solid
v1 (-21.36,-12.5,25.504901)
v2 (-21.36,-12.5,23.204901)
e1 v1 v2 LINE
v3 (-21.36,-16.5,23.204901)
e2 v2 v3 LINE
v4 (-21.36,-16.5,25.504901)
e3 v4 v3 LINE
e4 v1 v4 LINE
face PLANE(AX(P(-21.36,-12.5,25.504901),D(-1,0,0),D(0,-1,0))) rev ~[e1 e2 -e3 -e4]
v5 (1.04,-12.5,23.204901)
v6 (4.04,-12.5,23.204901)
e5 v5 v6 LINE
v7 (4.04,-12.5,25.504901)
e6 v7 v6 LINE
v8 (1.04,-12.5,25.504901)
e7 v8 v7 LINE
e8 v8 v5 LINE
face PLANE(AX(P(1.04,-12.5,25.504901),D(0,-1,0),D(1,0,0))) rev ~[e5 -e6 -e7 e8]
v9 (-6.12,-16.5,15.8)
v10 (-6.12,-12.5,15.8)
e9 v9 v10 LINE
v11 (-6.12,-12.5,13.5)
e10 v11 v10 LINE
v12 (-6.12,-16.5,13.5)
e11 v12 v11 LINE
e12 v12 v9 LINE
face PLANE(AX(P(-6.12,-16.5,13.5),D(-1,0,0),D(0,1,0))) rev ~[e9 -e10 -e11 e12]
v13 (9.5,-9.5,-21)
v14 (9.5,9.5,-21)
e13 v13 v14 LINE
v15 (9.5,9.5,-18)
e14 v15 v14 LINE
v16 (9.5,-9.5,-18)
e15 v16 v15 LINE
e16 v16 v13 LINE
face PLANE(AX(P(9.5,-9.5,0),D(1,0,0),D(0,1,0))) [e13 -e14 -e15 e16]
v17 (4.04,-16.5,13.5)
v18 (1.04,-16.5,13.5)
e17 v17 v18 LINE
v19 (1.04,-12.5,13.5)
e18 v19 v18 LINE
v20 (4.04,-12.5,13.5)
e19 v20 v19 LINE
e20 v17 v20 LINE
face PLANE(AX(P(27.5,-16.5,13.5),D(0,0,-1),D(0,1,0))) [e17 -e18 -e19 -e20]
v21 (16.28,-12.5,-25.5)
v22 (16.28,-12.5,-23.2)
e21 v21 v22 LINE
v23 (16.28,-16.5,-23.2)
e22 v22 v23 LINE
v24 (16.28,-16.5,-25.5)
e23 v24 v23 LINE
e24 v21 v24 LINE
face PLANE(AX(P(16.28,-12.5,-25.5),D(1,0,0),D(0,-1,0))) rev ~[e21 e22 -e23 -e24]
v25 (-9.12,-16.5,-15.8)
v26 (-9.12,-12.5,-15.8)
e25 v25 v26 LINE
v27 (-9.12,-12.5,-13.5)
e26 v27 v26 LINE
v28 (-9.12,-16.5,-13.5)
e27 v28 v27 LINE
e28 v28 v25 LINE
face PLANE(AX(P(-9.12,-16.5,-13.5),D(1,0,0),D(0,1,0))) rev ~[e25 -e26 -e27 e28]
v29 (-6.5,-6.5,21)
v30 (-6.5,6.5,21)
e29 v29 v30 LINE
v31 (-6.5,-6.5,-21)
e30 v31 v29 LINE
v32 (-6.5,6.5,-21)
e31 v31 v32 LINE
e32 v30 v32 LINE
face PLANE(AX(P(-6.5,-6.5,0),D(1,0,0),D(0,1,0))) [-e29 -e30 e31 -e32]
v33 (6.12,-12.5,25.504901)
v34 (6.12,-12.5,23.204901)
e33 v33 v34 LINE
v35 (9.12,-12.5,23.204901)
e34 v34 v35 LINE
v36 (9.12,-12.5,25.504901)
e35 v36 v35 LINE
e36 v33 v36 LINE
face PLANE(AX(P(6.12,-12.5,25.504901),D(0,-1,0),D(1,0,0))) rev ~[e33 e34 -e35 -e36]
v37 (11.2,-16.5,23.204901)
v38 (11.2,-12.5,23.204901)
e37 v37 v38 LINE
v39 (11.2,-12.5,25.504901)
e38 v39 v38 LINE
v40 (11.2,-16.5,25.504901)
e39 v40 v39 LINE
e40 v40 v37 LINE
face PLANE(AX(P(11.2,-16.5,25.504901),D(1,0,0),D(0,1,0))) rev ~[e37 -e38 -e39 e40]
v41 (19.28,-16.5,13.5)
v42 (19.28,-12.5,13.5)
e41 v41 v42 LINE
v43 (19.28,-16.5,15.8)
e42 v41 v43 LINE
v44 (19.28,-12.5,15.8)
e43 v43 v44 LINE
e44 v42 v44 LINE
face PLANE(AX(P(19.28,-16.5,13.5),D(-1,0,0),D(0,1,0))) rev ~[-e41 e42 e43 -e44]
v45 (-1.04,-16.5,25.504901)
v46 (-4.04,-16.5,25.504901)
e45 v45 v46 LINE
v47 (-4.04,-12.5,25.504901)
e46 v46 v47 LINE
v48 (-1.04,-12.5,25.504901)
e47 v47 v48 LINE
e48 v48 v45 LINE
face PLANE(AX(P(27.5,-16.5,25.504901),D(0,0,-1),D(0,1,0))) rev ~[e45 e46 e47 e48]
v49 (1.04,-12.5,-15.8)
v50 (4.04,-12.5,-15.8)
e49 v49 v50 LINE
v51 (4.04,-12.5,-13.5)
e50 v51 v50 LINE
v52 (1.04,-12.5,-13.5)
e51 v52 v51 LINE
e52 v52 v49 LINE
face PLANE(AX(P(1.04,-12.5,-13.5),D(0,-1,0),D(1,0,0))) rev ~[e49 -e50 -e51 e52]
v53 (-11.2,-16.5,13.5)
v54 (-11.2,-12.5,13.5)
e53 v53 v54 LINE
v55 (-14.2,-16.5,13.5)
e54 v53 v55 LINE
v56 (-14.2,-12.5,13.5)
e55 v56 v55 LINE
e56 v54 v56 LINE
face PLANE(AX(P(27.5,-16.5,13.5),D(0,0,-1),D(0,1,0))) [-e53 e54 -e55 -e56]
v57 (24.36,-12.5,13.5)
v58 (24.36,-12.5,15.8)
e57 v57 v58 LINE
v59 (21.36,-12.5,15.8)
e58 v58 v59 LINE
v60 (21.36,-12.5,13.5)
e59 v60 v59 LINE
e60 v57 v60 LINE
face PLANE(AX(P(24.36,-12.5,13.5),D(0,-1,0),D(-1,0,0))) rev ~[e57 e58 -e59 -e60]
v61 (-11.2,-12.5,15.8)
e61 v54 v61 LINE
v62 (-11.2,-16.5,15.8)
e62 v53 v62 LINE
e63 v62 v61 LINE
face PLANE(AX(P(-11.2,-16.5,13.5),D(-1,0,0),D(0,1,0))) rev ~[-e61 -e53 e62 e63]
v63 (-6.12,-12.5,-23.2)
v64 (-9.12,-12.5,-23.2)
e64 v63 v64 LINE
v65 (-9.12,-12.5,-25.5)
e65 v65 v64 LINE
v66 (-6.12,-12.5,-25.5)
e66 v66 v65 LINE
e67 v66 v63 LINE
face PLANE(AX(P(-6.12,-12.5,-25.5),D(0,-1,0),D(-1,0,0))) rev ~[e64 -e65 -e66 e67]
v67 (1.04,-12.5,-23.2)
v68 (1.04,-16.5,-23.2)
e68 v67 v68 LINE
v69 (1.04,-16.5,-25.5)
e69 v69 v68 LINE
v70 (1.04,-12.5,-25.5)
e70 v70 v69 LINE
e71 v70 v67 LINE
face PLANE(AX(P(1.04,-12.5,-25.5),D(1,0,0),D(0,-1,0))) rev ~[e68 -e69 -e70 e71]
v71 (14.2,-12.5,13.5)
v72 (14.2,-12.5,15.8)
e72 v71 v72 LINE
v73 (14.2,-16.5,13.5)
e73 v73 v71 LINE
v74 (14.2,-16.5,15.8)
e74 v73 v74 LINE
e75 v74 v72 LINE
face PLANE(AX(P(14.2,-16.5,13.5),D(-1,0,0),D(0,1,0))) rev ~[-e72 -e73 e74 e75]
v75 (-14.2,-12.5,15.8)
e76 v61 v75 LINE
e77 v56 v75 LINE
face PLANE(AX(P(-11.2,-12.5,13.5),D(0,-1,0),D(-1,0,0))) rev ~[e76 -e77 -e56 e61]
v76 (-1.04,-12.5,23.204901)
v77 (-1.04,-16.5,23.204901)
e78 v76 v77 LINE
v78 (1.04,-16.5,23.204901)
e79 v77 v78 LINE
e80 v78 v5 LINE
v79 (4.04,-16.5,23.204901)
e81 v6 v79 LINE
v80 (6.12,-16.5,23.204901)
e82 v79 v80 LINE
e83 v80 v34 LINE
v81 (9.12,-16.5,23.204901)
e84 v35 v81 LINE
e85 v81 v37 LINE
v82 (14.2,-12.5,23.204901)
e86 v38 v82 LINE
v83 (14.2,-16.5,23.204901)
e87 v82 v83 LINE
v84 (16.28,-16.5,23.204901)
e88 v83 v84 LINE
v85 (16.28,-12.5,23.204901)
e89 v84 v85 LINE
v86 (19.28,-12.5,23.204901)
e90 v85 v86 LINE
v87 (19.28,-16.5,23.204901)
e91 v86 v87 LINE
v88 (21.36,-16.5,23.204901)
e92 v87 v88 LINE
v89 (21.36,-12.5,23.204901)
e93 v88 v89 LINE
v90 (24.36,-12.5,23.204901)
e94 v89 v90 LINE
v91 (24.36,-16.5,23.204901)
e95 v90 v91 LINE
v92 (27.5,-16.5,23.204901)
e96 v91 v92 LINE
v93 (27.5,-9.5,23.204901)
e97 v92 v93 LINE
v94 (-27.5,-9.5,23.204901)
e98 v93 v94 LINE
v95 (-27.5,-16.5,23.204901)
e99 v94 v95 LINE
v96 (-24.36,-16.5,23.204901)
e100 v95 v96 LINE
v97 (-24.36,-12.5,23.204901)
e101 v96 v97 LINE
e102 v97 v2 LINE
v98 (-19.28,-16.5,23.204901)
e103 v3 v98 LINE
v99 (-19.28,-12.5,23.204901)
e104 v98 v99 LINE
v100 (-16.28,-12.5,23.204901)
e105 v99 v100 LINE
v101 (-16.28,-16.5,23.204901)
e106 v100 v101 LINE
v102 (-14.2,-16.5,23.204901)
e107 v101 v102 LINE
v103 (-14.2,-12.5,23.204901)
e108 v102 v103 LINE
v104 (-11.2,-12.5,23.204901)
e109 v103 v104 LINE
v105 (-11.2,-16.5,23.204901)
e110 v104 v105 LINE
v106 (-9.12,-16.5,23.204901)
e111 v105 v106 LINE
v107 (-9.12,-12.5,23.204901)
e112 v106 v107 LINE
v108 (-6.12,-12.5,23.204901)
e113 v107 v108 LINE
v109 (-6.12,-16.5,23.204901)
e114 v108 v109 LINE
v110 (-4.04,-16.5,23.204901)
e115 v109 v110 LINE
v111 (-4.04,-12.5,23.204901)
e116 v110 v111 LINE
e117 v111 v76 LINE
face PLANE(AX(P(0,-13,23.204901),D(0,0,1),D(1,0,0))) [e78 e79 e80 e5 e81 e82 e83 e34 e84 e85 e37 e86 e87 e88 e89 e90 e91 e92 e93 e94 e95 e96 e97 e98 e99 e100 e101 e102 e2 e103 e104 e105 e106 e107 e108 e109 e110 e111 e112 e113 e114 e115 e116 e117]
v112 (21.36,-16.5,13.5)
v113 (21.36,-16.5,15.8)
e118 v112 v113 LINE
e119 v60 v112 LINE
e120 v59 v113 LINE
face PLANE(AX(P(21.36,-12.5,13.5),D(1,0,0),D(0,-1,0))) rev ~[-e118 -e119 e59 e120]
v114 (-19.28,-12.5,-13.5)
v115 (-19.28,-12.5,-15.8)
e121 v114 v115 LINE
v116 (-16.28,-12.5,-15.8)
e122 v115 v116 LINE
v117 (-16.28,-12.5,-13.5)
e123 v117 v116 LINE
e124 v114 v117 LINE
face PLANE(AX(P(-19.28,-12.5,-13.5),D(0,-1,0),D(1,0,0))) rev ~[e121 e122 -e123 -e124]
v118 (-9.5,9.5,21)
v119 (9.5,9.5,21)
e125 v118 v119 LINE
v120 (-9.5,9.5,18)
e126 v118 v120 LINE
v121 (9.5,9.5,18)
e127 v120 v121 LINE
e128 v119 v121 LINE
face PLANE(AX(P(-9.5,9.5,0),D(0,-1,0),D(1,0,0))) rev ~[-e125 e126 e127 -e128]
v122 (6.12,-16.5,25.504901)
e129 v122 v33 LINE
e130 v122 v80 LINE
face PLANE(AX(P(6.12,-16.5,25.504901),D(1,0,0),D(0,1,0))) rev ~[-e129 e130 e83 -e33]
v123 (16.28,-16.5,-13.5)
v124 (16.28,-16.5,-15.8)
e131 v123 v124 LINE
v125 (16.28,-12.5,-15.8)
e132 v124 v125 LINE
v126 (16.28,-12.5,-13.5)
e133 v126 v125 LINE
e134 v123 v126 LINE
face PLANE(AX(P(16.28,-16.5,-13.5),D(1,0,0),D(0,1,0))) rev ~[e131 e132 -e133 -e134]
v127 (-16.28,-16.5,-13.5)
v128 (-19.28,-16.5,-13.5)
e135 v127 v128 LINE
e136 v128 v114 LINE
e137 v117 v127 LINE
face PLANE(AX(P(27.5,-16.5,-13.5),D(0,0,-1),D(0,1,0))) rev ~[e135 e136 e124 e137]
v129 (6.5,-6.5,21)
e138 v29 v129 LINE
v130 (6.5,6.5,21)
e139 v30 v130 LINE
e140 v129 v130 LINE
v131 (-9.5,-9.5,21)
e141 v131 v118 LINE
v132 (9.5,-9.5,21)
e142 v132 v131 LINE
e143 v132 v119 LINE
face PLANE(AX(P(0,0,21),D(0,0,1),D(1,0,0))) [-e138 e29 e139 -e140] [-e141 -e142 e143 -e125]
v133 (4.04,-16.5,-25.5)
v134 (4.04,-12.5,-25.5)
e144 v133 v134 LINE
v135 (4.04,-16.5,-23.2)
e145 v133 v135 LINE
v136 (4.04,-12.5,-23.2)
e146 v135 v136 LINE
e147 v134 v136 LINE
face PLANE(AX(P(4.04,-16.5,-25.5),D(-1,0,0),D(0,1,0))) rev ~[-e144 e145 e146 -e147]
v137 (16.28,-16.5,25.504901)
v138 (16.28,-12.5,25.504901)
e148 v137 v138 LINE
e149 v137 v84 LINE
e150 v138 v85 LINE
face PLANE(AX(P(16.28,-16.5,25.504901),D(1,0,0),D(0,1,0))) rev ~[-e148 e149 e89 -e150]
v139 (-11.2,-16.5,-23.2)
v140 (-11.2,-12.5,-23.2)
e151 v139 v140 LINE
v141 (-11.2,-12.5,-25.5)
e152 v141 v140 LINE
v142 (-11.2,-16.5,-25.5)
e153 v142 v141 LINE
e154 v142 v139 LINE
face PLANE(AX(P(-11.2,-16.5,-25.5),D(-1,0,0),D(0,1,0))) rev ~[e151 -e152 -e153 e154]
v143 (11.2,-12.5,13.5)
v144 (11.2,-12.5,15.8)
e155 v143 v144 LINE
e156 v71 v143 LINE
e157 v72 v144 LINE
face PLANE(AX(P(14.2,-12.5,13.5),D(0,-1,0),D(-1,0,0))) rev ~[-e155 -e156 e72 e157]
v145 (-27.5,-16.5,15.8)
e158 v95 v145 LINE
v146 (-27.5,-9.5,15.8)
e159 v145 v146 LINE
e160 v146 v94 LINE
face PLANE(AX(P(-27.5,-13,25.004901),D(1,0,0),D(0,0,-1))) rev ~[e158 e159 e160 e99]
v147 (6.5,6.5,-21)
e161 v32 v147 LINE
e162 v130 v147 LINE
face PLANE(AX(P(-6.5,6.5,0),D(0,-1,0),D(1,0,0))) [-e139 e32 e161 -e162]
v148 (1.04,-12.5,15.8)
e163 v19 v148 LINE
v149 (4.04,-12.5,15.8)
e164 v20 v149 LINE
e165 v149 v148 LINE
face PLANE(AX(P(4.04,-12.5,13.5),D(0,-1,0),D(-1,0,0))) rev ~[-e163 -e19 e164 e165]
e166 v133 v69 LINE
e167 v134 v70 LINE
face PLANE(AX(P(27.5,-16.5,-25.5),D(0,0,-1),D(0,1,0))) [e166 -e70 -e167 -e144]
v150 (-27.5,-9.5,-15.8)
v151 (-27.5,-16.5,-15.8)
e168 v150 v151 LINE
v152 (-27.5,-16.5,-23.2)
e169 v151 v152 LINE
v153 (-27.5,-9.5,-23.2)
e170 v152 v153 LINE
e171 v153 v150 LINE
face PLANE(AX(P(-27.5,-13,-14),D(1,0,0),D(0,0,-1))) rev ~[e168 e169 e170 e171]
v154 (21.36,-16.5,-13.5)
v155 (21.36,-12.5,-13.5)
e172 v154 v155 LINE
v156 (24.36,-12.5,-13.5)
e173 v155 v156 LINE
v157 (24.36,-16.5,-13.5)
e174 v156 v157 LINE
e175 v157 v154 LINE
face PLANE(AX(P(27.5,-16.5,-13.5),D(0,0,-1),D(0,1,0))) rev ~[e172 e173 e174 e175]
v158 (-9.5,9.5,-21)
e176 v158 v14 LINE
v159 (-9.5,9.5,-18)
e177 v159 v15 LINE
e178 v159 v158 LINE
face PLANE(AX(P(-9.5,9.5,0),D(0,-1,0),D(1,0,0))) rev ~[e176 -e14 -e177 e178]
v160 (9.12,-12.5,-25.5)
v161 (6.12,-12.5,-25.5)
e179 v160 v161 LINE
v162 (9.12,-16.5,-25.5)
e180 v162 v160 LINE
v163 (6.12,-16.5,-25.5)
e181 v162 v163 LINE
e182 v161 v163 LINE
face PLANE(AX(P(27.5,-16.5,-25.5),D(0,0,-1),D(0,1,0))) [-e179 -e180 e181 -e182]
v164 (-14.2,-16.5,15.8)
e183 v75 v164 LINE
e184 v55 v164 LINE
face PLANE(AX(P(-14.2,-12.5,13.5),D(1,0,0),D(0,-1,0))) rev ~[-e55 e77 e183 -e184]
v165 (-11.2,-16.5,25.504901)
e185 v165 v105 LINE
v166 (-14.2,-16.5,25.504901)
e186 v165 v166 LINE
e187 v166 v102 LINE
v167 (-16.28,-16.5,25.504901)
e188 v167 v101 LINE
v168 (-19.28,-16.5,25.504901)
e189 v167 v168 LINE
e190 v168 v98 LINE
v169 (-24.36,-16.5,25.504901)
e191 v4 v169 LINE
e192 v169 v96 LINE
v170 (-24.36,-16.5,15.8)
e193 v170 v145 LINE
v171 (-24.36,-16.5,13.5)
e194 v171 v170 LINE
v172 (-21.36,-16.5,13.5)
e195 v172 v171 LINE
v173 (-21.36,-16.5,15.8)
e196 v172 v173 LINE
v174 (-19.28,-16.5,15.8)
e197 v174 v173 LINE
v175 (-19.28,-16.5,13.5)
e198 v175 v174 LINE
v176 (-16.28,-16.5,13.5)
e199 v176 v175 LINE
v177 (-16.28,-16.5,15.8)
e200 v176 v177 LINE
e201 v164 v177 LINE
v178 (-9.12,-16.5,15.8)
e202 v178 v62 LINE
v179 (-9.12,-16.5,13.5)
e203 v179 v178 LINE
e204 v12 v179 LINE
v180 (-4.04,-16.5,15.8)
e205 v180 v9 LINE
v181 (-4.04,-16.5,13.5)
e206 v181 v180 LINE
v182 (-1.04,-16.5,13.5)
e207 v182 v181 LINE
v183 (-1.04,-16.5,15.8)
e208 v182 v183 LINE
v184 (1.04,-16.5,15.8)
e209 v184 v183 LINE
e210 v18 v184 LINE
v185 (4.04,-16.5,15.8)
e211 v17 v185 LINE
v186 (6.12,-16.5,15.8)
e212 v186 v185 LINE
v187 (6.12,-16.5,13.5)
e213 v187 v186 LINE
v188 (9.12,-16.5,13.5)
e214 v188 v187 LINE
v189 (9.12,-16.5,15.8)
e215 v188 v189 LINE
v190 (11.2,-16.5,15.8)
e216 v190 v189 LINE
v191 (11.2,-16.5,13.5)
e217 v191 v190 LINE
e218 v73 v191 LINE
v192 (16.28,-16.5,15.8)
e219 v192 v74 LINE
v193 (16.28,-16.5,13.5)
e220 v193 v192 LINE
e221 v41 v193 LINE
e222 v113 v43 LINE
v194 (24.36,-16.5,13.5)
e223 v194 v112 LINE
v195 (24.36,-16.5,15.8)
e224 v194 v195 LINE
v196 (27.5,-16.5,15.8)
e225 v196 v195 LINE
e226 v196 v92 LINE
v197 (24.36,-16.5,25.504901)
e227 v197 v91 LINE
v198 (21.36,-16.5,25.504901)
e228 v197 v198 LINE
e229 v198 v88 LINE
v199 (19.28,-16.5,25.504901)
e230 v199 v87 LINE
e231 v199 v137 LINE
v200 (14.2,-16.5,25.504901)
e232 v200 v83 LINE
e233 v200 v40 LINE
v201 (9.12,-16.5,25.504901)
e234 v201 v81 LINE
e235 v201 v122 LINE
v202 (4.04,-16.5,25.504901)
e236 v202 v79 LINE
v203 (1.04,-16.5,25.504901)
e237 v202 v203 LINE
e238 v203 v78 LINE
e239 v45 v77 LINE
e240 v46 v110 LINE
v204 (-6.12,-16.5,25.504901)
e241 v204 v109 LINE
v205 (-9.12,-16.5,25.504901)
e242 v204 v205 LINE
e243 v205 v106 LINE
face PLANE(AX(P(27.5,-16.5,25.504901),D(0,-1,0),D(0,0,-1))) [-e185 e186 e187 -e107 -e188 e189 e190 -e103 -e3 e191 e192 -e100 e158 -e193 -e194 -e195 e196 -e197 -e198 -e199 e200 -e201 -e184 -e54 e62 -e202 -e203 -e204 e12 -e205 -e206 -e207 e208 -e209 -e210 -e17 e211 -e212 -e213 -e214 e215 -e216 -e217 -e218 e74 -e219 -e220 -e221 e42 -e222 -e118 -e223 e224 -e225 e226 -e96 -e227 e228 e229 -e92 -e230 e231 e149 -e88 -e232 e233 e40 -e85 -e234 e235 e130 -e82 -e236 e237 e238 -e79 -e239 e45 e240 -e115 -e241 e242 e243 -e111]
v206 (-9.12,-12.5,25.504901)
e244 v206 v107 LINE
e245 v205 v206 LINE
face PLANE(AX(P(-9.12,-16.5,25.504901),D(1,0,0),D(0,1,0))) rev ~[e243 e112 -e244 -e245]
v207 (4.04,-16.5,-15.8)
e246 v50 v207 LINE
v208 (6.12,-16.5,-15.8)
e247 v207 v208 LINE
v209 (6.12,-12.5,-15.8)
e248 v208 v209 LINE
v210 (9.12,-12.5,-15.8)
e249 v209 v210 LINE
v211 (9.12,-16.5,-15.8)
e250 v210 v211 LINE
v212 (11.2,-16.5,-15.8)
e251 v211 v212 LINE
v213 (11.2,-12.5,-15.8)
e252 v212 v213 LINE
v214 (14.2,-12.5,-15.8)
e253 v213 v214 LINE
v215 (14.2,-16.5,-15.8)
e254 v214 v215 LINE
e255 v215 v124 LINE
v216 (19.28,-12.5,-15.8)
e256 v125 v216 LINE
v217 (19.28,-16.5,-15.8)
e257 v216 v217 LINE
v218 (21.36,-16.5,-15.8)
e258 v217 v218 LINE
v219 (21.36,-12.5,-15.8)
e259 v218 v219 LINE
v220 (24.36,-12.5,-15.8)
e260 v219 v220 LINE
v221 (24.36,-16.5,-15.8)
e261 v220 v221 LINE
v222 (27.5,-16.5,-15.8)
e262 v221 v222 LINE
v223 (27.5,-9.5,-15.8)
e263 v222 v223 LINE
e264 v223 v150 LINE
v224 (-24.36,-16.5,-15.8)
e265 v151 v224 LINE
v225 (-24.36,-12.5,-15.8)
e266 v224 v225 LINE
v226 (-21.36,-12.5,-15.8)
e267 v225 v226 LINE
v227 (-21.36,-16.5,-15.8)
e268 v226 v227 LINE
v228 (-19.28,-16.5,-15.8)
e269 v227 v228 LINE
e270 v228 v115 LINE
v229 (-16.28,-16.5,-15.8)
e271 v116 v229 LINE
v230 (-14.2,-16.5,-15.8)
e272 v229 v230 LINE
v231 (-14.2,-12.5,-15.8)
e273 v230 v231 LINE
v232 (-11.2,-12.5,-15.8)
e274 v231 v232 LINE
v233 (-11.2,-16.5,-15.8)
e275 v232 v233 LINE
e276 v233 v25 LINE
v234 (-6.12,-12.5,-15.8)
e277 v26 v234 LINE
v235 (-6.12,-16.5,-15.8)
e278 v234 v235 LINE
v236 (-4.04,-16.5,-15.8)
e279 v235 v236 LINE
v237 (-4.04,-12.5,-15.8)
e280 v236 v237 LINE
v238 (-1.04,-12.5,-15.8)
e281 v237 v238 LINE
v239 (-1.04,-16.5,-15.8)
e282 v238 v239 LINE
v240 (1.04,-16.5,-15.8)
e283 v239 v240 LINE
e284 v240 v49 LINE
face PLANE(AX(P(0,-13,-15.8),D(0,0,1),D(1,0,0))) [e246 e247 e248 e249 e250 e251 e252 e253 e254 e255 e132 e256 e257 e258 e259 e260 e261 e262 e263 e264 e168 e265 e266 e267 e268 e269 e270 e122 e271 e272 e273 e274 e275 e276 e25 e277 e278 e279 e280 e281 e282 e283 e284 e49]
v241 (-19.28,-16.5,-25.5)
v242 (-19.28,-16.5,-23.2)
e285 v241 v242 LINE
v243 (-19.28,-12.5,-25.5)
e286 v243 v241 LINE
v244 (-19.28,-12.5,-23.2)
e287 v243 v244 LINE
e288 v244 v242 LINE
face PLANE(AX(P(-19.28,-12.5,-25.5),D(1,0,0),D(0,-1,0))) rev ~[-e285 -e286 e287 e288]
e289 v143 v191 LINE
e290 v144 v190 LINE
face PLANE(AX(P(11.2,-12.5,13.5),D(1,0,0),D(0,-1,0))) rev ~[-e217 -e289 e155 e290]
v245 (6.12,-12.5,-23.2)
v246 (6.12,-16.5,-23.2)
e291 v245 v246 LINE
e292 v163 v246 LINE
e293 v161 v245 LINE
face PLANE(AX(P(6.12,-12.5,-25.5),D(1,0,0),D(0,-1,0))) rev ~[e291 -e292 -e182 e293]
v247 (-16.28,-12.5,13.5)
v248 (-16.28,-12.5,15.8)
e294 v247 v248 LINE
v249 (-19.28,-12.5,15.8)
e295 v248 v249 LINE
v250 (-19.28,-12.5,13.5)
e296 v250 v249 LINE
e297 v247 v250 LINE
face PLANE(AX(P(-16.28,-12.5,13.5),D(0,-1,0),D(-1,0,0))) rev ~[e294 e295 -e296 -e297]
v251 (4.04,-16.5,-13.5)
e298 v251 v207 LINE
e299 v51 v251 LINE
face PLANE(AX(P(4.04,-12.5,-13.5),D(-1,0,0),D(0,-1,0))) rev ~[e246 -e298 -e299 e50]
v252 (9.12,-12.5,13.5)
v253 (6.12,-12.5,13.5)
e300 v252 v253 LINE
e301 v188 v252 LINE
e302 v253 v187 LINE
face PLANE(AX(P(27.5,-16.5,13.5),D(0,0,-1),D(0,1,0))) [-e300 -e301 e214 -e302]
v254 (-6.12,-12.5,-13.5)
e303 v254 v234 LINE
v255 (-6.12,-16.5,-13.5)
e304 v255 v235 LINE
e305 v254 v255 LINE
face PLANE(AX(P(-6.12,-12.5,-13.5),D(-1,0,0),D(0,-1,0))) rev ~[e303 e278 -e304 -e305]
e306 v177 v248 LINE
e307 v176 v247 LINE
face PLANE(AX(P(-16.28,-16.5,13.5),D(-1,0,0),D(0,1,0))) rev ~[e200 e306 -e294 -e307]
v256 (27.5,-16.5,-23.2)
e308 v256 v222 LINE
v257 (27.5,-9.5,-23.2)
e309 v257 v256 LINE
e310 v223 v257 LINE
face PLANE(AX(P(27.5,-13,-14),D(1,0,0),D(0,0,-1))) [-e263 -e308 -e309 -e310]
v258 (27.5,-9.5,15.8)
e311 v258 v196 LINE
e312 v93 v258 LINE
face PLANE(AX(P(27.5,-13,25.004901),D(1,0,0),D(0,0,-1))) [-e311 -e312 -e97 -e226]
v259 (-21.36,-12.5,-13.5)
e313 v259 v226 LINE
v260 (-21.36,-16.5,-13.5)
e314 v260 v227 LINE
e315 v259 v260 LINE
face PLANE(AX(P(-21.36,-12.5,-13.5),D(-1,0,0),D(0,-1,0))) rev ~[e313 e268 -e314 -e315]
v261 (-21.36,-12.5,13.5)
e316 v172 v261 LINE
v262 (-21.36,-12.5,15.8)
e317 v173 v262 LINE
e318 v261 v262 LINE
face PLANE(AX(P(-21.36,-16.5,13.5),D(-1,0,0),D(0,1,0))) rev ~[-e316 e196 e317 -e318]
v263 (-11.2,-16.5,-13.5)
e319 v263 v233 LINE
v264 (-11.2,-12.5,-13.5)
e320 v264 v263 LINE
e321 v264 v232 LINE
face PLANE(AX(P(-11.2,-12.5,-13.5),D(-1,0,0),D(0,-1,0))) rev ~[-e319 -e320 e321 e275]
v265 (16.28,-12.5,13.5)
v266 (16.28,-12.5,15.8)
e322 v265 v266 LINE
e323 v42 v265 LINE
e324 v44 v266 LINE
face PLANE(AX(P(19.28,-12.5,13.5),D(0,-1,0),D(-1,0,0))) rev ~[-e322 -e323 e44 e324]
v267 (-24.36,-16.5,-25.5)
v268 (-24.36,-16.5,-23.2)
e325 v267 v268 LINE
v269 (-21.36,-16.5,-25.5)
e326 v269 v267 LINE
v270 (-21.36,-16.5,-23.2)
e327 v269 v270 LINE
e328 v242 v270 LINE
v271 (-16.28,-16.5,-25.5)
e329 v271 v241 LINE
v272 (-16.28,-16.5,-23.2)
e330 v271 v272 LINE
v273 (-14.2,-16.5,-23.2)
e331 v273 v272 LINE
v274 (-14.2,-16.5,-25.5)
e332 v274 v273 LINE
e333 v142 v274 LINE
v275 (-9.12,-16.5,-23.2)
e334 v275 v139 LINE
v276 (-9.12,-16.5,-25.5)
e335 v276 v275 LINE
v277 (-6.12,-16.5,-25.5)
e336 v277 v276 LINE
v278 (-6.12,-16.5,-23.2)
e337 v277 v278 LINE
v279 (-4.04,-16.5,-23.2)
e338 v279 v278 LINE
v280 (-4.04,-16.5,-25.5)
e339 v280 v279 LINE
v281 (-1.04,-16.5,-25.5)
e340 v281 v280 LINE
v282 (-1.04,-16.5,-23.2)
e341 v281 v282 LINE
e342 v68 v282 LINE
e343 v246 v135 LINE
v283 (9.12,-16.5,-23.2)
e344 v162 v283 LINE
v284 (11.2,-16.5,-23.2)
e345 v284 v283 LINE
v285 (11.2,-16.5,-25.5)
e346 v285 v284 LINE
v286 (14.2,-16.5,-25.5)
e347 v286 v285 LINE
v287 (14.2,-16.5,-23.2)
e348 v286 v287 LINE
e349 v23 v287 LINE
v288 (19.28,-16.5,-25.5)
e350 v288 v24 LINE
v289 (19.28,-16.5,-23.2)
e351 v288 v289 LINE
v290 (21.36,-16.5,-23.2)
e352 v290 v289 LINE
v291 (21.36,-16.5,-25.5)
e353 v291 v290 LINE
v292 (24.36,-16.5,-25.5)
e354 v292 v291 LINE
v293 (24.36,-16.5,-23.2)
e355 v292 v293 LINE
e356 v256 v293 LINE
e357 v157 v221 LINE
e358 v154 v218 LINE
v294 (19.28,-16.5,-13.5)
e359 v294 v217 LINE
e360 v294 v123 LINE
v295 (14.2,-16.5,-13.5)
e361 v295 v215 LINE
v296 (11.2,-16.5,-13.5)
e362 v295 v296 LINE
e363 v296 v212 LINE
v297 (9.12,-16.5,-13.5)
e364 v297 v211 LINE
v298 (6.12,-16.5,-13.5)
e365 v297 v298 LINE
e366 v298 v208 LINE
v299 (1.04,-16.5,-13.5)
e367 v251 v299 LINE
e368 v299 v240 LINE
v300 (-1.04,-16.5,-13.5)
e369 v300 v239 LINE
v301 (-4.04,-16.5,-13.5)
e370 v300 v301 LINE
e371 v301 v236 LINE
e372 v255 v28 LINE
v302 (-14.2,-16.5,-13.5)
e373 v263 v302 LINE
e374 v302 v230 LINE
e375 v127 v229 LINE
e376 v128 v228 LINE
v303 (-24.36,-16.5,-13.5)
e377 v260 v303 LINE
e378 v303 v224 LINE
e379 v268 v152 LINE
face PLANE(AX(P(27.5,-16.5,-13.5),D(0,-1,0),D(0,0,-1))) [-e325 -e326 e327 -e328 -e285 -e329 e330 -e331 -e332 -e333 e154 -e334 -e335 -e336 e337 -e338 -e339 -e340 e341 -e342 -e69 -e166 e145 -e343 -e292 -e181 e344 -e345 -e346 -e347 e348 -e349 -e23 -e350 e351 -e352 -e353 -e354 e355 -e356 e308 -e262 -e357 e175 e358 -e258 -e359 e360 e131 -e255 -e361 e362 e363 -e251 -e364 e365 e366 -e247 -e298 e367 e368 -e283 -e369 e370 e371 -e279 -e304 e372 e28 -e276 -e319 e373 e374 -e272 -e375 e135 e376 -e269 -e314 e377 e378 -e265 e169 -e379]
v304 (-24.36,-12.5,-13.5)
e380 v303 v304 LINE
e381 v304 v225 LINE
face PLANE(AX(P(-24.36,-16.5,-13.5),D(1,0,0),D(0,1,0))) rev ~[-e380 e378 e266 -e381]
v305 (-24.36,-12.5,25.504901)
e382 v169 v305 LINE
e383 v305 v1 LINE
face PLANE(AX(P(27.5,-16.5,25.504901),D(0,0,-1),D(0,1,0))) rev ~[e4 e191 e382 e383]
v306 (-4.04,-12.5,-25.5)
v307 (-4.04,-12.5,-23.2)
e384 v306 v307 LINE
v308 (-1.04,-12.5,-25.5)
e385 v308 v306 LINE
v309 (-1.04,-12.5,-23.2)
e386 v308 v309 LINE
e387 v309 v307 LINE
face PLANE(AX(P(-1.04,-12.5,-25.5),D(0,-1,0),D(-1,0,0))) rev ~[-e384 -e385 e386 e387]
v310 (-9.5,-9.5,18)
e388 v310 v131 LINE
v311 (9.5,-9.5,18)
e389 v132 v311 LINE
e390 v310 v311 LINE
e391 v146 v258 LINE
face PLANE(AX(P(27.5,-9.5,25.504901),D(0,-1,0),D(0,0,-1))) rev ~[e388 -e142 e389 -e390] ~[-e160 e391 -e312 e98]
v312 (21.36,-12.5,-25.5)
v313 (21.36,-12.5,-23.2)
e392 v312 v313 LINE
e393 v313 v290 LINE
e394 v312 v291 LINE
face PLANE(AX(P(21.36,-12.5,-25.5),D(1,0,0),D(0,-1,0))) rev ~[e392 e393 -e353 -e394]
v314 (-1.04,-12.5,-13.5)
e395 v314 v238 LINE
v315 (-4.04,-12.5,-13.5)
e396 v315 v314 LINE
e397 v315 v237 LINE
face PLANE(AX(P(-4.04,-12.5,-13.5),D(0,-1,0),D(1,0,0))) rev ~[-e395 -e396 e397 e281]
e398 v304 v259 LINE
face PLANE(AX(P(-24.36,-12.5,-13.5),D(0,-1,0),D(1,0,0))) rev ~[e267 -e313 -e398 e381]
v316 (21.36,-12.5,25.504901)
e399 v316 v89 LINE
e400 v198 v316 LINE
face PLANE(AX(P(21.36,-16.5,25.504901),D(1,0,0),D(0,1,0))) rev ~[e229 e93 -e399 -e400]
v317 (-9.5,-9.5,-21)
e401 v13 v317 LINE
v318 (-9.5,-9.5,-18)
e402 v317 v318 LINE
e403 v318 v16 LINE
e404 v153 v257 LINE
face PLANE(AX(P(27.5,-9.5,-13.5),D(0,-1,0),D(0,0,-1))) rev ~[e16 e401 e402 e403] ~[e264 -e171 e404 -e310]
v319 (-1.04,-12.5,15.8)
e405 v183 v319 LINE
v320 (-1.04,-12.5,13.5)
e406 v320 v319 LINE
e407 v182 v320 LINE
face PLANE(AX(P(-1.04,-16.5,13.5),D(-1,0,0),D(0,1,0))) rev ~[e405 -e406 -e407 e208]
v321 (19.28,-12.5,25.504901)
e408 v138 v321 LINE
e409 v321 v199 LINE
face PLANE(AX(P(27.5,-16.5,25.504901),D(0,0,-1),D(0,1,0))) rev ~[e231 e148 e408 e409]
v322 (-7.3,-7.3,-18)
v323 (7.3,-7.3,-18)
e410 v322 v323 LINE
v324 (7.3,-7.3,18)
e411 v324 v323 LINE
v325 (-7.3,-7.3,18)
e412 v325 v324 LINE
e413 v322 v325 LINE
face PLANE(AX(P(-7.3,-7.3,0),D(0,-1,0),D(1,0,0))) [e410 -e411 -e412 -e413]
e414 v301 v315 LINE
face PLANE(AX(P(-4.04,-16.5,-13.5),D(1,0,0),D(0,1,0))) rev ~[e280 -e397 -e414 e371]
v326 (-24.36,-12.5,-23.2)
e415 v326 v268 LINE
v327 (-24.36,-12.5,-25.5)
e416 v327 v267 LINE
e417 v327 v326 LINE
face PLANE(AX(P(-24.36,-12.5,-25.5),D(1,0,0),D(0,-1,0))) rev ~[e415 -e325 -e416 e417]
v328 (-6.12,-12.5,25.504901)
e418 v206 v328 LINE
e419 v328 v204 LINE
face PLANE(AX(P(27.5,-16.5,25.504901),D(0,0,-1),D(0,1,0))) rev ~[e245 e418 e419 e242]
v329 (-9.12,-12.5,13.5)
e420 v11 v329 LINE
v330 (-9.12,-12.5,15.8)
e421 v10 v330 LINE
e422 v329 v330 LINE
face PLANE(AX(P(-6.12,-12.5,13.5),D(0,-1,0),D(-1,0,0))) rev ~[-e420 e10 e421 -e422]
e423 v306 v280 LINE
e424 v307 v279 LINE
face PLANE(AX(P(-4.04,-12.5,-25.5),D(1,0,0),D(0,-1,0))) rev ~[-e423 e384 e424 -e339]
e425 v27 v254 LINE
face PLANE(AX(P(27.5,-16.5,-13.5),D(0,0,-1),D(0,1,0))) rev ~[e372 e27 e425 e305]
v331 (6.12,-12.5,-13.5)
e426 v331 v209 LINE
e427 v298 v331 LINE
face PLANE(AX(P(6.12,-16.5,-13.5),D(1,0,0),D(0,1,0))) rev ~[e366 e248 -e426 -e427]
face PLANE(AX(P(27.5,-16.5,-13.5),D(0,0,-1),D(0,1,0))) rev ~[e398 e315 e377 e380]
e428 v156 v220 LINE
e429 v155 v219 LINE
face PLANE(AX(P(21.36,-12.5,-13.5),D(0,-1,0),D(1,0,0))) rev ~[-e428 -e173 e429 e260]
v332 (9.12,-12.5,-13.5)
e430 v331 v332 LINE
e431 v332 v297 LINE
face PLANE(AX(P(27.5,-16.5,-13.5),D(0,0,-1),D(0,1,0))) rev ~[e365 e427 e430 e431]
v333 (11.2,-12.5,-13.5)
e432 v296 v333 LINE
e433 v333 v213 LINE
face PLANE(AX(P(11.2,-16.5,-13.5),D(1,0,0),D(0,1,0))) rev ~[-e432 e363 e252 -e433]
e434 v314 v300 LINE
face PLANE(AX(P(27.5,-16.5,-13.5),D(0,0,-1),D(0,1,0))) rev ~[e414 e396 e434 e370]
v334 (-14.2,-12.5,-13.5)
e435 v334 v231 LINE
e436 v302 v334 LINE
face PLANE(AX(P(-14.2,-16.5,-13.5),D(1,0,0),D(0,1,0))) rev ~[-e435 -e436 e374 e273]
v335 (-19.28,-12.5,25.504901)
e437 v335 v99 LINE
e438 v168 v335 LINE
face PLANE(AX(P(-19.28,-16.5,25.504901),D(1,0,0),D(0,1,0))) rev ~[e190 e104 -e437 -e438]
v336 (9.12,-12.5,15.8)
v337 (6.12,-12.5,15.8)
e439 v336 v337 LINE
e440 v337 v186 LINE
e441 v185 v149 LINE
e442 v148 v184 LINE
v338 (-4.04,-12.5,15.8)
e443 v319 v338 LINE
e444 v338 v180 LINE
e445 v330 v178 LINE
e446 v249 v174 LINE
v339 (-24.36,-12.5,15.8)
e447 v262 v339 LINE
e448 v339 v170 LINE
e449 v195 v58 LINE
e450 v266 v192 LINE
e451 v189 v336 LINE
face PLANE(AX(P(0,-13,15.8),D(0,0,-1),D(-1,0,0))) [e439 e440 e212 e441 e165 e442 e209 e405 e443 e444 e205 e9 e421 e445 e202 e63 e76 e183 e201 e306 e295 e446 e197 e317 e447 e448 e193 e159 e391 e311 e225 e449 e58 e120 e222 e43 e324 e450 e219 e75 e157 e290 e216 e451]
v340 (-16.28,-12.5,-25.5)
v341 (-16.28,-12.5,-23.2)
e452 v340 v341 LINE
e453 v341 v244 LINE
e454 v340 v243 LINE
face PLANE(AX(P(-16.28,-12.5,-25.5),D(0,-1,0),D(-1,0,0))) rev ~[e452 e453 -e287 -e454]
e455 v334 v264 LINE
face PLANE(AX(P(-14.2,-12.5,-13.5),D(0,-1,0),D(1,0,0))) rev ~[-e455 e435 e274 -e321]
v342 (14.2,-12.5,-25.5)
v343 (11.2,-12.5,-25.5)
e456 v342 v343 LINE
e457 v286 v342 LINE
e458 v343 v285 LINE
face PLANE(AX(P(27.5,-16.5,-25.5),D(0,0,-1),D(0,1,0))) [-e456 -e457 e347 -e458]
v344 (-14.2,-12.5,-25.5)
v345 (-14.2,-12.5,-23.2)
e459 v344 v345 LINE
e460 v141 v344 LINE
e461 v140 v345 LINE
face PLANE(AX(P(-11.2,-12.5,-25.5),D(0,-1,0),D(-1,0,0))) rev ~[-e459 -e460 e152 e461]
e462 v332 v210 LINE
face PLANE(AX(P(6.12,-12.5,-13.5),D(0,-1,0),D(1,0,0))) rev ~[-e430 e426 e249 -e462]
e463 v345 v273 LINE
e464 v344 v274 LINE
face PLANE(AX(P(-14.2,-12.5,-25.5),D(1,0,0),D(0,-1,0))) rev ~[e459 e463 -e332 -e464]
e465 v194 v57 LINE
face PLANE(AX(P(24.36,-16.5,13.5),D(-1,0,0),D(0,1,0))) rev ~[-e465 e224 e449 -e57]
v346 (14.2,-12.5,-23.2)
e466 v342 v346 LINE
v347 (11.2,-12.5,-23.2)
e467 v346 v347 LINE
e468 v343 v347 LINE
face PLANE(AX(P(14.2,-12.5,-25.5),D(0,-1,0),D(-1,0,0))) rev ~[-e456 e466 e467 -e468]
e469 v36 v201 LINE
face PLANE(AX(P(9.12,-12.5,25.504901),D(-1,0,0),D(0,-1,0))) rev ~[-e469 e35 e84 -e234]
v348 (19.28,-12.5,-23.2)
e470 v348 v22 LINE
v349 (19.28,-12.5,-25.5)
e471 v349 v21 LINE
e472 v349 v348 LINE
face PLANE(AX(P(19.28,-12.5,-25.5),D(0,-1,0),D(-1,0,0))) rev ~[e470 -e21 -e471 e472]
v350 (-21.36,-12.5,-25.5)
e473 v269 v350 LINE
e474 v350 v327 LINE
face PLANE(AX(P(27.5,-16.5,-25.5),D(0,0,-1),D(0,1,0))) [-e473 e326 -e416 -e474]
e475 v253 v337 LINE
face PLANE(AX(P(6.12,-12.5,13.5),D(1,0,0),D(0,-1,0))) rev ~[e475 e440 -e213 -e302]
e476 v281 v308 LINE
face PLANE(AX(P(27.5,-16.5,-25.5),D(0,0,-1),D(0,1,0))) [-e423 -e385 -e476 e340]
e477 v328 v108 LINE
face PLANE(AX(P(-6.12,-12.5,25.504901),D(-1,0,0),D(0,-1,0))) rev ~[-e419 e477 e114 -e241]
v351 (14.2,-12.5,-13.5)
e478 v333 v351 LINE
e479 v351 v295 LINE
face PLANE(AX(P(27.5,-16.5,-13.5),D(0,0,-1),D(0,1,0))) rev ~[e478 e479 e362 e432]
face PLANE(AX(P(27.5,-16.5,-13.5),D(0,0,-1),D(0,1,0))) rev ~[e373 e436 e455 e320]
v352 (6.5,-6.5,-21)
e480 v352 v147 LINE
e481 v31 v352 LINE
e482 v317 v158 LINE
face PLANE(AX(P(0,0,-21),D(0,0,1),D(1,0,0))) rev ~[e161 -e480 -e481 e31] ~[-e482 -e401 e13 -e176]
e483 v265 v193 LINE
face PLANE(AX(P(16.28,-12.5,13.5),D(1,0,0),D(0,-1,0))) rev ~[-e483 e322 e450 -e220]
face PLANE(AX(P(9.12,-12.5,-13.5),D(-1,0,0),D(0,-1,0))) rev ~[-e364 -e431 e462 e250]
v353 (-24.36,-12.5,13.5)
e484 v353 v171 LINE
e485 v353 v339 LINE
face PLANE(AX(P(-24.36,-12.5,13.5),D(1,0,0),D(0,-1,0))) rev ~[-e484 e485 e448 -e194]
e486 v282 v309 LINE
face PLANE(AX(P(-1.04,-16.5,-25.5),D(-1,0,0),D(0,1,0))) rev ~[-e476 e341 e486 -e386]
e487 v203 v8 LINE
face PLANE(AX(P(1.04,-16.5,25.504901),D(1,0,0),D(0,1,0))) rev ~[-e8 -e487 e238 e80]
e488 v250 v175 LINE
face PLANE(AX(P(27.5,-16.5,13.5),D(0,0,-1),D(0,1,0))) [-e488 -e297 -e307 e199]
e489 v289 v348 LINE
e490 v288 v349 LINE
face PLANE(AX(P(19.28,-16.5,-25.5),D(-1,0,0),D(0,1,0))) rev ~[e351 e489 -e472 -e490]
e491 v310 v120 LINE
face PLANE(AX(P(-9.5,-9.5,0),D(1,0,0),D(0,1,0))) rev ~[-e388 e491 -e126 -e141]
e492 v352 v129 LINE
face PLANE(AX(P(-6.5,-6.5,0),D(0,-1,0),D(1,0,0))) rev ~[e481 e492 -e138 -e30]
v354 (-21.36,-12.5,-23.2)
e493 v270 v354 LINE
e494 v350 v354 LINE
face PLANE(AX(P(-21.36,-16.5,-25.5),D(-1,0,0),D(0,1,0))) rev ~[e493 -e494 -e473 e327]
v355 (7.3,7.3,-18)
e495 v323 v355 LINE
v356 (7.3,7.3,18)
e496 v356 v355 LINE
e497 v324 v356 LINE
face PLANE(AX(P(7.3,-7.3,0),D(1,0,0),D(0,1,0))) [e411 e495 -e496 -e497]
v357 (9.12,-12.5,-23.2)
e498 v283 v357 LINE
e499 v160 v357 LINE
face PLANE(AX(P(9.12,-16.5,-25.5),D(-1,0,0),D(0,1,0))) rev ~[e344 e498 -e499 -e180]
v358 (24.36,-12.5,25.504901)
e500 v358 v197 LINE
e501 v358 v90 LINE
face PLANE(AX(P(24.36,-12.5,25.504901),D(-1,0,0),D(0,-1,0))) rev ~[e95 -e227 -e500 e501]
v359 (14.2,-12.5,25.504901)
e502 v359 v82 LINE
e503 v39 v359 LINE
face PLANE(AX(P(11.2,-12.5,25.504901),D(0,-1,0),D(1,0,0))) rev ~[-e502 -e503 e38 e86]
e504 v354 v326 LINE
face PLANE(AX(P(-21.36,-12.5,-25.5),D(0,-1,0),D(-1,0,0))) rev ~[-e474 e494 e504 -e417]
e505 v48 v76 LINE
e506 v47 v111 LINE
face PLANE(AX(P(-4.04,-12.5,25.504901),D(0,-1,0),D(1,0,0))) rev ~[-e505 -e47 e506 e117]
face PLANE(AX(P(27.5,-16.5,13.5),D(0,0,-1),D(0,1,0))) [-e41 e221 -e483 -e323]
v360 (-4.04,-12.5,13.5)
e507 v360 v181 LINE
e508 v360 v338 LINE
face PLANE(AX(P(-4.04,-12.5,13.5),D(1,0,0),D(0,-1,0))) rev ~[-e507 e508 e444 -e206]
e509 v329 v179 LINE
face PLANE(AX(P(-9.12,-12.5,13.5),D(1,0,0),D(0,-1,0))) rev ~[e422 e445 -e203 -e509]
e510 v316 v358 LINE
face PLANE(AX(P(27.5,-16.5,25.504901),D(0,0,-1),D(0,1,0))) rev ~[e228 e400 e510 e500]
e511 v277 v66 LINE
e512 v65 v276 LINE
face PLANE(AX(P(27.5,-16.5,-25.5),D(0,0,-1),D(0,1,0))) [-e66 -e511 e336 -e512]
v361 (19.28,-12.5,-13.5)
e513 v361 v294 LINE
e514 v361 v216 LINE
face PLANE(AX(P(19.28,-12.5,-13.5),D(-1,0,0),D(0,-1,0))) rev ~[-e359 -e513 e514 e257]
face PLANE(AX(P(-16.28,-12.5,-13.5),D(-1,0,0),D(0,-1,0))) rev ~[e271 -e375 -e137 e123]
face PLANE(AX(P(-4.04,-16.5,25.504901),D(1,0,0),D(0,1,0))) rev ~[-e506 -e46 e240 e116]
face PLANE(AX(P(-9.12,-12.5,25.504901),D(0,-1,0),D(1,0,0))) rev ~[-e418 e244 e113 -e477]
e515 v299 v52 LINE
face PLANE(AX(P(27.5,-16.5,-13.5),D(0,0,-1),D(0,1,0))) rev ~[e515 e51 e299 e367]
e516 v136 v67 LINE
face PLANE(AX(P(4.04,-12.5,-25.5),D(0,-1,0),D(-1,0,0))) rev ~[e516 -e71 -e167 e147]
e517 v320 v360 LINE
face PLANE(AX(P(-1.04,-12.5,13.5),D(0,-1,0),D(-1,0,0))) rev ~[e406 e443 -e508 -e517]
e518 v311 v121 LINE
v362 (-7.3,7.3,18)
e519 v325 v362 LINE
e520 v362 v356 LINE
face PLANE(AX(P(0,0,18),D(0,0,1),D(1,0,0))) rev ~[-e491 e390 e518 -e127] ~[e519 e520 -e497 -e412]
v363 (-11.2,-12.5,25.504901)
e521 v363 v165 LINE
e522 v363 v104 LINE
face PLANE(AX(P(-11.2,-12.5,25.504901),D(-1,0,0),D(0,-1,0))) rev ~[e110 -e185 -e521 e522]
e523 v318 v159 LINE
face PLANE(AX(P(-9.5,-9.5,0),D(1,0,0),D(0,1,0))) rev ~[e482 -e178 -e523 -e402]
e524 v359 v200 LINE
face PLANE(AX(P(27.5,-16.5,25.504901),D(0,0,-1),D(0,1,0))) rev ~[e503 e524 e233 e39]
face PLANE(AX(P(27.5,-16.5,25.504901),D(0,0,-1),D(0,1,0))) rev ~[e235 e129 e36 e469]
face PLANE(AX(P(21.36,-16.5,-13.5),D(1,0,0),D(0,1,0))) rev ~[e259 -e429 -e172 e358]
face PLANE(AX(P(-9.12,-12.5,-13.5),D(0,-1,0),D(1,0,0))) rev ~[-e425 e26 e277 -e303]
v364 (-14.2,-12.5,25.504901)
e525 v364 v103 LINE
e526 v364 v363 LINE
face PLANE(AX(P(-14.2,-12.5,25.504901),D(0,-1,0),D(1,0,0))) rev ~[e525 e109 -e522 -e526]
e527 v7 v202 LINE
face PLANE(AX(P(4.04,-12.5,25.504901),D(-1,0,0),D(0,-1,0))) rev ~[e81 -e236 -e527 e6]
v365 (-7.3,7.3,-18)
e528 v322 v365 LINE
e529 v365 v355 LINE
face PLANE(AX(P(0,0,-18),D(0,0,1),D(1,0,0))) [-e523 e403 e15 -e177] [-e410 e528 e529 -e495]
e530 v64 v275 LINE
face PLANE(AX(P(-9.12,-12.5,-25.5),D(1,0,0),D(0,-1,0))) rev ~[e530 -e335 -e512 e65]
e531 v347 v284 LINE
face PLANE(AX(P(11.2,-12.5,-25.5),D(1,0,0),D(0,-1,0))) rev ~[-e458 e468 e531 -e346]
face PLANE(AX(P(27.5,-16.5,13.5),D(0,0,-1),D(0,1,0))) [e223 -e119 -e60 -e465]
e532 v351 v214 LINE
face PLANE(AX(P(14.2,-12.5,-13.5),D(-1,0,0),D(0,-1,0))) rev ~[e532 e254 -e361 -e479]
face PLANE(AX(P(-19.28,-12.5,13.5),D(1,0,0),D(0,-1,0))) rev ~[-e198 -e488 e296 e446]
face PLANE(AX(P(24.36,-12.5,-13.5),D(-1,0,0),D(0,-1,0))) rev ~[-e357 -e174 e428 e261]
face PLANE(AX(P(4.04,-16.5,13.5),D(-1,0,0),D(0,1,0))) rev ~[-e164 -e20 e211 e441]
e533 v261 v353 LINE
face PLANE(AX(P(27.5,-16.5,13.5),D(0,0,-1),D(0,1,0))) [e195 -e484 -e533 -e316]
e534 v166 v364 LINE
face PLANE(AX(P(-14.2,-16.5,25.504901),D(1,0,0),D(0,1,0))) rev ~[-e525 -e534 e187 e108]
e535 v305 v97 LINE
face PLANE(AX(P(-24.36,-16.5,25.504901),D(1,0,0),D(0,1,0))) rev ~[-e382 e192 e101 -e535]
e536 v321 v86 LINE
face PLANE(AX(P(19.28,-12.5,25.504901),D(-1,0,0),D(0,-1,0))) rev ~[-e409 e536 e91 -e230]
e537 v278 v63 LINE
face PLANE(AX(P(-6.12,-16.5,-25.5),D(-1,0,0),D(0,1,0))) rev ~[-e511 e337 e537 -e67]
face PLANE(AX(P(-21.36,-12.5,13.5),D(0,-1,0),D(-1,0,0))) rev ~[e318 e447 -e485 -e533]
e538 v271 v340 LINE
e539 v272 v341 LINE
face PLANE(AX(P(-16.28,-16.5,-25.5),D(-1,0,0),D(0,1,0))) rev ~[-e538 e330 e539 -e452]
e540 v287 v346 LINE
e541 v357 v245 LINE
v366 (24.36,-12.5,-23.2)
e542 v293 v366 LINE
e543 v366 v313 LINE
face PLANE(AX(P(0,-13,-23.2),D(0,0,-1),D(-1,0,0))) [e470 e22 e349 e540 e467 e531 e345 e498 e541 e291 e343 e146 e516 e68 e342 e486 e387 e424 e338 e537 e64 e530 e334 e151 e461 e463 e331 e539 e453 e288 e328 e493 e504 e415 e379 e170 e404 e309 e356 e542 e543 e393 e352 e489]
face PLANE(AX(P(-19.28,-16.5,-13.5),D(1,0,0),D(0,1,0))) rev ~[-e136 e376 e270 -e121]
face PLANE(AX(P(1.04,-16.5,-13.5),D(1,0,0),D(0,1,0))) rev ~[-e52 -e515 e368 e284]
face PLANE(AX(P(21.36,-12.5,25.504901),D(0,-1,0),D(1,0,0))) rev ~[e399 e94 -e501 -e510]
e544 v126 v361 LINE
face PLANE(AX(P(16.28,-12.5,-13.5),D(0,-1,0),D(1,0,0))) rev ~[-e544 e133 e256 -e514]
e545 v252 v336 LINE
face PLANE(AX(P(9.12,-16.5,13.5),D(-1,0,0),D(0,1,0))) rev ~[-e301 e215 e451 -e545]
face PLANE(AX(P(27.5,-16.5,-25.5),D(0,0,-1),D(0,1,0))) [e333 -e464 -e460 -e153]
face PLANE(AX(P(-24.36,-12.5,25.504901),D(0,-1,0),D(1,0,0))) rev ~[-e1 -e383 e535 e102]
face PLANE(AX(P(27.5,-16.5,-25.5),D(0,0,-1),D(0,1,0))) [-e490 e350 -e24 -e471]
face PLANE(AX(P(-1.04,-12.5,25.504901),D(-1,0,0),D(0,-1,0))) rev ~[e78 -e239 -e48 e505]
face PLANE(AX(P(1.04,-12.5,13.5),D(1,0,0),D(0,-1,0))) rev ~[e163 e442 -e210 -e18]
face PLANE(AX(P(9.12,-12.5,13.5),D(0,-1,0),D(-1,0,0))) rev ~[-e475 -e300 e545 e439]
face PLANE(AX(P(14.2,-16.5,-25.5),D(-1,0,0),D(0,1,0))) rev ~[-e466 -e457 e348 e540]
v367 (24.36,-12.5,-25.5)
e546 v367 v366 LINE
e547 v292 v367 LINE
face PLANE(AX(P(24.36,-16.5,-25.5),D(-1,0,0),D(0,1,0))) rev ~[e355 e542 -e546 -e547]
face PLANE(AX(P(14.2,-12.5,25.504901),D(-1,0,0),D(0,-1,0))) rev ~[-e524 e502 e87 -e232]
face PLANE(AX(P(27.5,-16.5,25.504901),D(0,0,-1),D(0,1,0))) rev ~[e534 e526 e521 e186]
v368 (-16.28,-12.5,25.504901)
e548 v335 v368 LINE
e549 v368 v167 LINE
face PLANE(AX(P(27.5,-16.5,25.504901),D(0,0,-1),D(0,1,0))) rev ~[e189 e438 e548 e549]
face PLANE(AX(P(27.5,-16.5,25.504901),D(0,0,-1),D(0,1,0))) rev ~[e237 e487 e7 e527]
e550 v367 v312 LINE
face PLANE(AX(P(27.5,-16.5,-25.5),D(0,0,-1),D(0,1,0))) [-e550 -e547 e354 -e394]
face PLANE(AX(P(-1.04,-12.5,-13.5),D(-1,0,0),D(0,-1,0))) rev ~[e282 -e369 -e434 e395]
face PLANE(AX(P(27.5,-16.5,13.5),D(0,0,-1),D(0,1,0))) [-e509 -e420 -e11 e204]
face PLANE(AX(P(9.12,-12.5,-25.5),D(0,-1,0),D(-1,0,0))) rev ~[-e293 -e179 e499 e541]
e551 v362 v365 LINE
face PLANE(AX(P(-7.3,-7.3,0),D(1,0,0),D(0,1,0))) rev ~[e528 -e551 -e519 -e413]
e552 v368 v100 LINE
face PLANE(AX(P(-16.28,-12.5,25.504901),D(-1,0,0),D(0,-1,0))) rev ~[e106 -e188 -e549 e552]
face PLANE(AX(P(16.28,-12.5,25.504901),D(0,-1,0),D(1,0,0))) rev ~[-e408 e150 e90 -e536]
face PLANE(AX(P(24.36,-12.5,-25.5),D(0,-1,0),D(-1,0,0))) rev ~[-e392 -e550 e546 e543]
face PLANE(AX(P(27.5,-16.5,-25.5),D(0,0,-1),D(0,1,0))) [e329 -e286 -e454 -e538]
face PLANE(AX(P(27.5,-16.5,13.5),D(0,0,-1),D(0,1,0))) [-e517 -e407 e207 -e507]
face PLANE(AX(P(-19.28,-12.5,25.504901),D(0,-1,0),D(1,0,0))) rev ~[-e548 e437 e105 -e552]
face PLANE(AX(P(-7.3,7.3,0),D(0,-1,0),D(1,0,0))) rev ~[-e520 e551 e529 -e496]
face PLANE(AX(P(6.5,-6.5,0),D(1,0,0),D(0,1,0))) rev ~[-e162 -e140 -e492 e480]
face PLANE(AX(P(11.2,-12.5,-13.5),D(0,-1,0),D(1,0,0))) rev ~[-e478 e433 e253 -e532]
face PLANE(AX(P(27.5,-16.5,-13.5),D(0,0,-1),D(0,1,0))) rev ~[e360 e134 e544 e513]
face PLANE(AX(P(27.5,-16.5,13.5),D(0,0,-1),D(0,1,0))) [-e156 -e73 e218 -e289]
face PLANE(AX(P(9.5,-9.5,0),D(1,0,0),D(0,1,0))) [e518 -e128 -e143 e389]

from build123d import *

# Parameters (mm, degrees)
EXTRUDE_1_DEPTH      = 21
SKETCH_1_3_W         = 13
SKETCH_1_3_H         = 13
CUT_EXTRUDE_1_DEPTH  = 21
SKETCH_1_12_W        = 19
SKETCH_1_12_H        = 19
SKETCH_1_12_W_2      = 14.6
SKETCH_1_12_H_2      = 14.6
SKETCH_1_12_W_3      = 13
SKETCH_1_12_H_3      = 13
CUT_EXTRUDE_6_DEPTH  = 18
CUT_EXTRUDE_7_DEPTH  = 14.5
SKETCH_4_W           = 3.504900739
SKETCH_4_H           = 7
SKETCH_4_W_2         = 3.5
EXTRUDE_2_DEPTH      = 27.5
SKETCH_10_W          = 1
SKETCH_10_H          = 7
EXTRUDE_4_DEPTH      = 55
SKETCH_14_W          = 1
SKETCH_14_H          = 7
EXTRUDE_6_DEPTH      = 55
CUT_EXTRUDE_17_DEPTH = 2.3
CUT_EXTRUDE_18_DEPTH = 2.3
CUT_EXTRUDE_19_DEPTH = 2.3
CUT_EXTRUDE_20_DEPTH = 2.3


with BuildPart() as part:
    # 草图1 → 凸台-拉伸1 (new, symmetric)
    with BuildSketch(Plane.XY):
        Polygon((9.5, 9.5), (-9.5, 9.5), (-9.5, -9.5), (-27.5, -9.5), (-27.5, -16.5), (27.5, -16.5), (27.5, -9.5), (9.5, -9.5), align=None)
    extrude(amount=EXTRUDE_1_DEPTH, both=True)

    # 草图1<3> → 切除-拉伸1 (cut, symmetric)
    with BuildSketch(Plane.XY):
        Rectangle(SKETCH_1_3_W, SKETCH_1_3_H)
    extrude(amount=CUT_EXTRUDE_1_DEPTH, both=True, mode=Mode.SUBTRACT)

    # 草图1<12> → 切除-拉伸6 (cut, symmetric)
    # profile 1 of 2: a face of its own
    with BuildSketch(Plane.XY):
        Rectangle(SKETCH_1_12_W, SKETCH_1_12_H)
        Rectangle(SKETCH_1_12_W_2, SKETCH_1_12_H_2, mode=Mode.SUBTRACT)
    # profile 2 of 2: a face of its own
    with BuildSketch(Plane.XY):
        Rectangle(SKETCH_1_12_W_3, SKETCH_1_12_H_3)
    extrude(amount=CUT_EXTRUDE_6_DEPTH, both=True, mode=Mode.SUBTRACT)

    # 草图1<13> → 切除-拉伸7 (cut, symmetric)
    with BuildSketch(Plane.XY):
        Polygon((9.5, -9.5), (-9.5, -9.5), (-27.5, -9.5), (-27.5, -16.5), (27.5, -16.5), (27.5, -9.5), align=None)
    extrude(amount=CUT_EXTRUDE_7_DEPTH, both=True, mode=Mode.SUBTRACT)

    # 草图4 → 凸台-拉伸2 (add, symmetric)
    with BuildSketch(Plane(origin=(0, 0, 0), x_dir=(0, 0, -1), z_dir=(1, 0, 0))):
        with Locations((-22.752450369, -13)):
            Rectangle(SKETCH_4_W, SKETCH_4_H)
        with Locations((22.75, -13)):
            Rectangle(SKETCH_4_W_2, SKETCH_4_H)
    extrude(amount=EXTRUDE_2_DEPTH, both=True)

    # 草图10 → 凸台-拉伸4 (add)
    with BuildSketch(Plane(origin=(27.5, 0, 0), x_dir=(0, 0, -1), z_dir=(1, 0, 0))):
        with Locations((-25.004900739, -13)):
            Rectangle(SKETCH_10_W, SKETCH_10_H)
        with Locations((-14, -13)):
            Rectangle(SKETCH_10_W, SKETCH_10_H)
    extrude(amount=-EXTRUDE_4_DEPTH)

    # 草图14 → 凸台-拉伸6 (add)
    with BuildSketch(Plane(origin=(27.5, 0, 0), x_dir=(0, 0, -1), z_dir=(1, 0, 0))):
        with Locations((14, -13)):
            Rectangle(SKETCH_14_W, SKETCH_14_H)
        with Locations((25, -13)):
            Rectangle(SKETCH_14_W, SKETCH_14_H)
    extrude(amount=-EXTRUDE_6_DEPTH)

    # 草图15 → 切除-拉伸17 (cut)
    with BuildSketch(Plane(origin=(0, 0, -25.5), x_dir=(-1, 0, 0), z_dir=(0, 0, -1))):
        Polygon((-27.5, -9.5), (-27.5, -16.5), (-24.36, -16.5), (-24.36, -12.5), (-22.86, -12.5), (-21.36, -12.5), (-21.36, -16.5), (-19.28, -16.5), (-19.28, -12.5), (-17.78, -12.5), (-16.28, -12.5), (-16.28, -16.5), (-14.2, -16.5), (-14.2, -12.5), (-12.7, -12.5), (-11.2, -12.5), (-11.2, -16.5), (-9.12, -16.5), (-9.12, -12.5), (-7.62, -12.5), (-6.12, -12.5), (-6.12, -16.5), (-4.04, -16.5), (-4.04, -12.5), (-2.54, -12.5), (-1.04, -12.5), (-1.04, -16.5), (1.04, -16.5), (1.04, -12.5), (2.54, -12.5), (4.04, -12.5), (4.04, -16.5), (6.12, -16.5), (6.12, -12.5), (7.62, -12.5), (9.12, -12.5), (9.12, -16.5), (11.2, -16.5), (11.2, -12.5), (12.7, -12.5), (14.2, -12.5), (14.2, -16.5), (16.28, -16.5), (16.28, -12.5), (17.78, -12.5), (19.28, -12.5), (19.28, -16.5), (21.36, -16.5), (21.36, -12.5), (22.86, -12.5), (24.36, -12.5), (24.36, -16.5), (27.5, -16.5), (27.5, -9.5), align=None)
    extrude(amount=-CUT_EXTRUDE_17_DEPTH, mode=Mode.SUBTRACT)

    # 草图16 → 切除-拉伸18 (cut)
    with BuildSketch(Plane(origin=(0, 0, 13.5), x_dir=(-1, 0, 0), z_dir=(0, 0, -1))):
        Polygon((27.5, -9.5), (-27.5, -9.5), (-27.5, -16.5), (-24.36, -16.5), (-24.36, -12.5), (-21.36, -12.5), (-21.36, -16.5), (-19.28, -16.5), (-19.28, -12.5), (-16.28, -12.5), (-16.28, -16.5), (-14.2, -16.5), (-14.2, -12.5), (-11.2, -12.5), (-11.2, -16.5), (-9.12, -16.5), (-9.12, -12.5), (-6.12, -12.5), (-6.12, -16.5), (-4.04, -16.5), (-4.04, -12.5), (-1.04, -12.5), (-1.04, -16.5), (1.04, -16.5), (1.04, -12.5), (4.04, -12.5), (4.04, -16.5), (6.12, -16.5), (6.12, -12.5), (9.12, -12.5), (9.12, -16.5), (11.2, -16.5), (11.2, -12.5), (14.2, -12.5), (14.2, -16.5), (16.28, -16.5), (16.28, -12.5), (19.28, -12.5), (19.28, -16.5), (21.36, -16.5), (21.36, -12.5), (24.36, -12.5), (24.36, -16.5), (27.5, -16.5), align=None)
    extrude(amount=-CUT_EXTRUDE_18_DEPTH, mode=Mode.SUBTRACT)

    # 草图17 → 切除-拉伸19 (cut)
    with BuildSketch(Plane.XY.offset(-13.5)):
        Polygon((24.36, -16.5), (27.5, -16.5), (27.5, -9.5), (-27.5, -9.5), (-27.5, -16.5), (-24.36, -16.5), (-24.36, -12.5), (-21.36, -12.5), (-21.36, -16.5), (-19.28, -16.5), (-19.28, -12.5), (-16.28, -12.5), (-16.28, -16.5), (-14.2, -16.5), (-14.2, -12.5), (-11.2, -12.5), (-11.2, -16.5), (-9.12, -16.5), (-9.12, -12.5), (-6.12, -12.5), (-6.12, -16.5), (-4.04, -16.5), (-4.04, -12.5), (-1.04, -12.5), (-1.04, -16.5), (1.04, -16.5), (1.04, -12.5), (4.04, -12.5), (4.04, -16.5), (6.12, -16.5), (6.12, -12.5), (9.12, -12.5), (9.12, -16.5), (11.2, -16.5), (11.2, -12.5), (14.2, -12.5), (14.2, -16.5), (16.28, -16.5), (16.28, -12.5), (19.28, -12.5), (19.28, -16.5), (21.36, -16.5), (21.36, -12.5), (24.36, -12.5), align=None)
    extrude(amount=-CUT_EXTRUDE_19_DEPTH, mode=Mode.SUBTRACT)

    # 草图18 → 切除-拉伸20 (cut)
    with BuildSketch(Plane.XY.offset(25.504900739)):
        Polygon((24.36, -16.5), (27.5, -16.5), (27.5, -9.5), (-27.5, -9.5), (-27.5, -16.5), (-24.36, -16.5), (-24.36, -12.5), (-21.36, -12.5), (-21.36, -16.5), (-19.28, -16.5), (-19.28, -12.5), (-16.28, -12.5), (-16.28, -16.5), (-14.2, -16.5), (-14.2, -12.5), (-11.2, -12.5), (-11.2, -16.5), (-9.12, -16.5), (-9.12, -12.5), (-6.12, -12.5), (-6.12, -16.5), (-4.04, -16.5), (-4.04, -12.5), (-1.04, -12.5), (-1.04, -16.5), (1.04, -16.5), (1.04, -12.5), (4.04, -12.5), (4.04, -16.5), (6.12, -16.5), (6.12, -12.5), (9.12, -12.5), (9.12, -16.5), (11.2, -16.5), (11.2, -12.5), (14.2, -12.5), (14.2, -16.5), (16.28, -16.5), (16.28, -12.5), (19.28, -12.5), (19.28, -16.5), (21.36, -16.5), (21.36, -12.5), (24.36, -12.5), align=None)
    extrude(amount=-CUT_EXTRUDE_20_DEPTH, mode=Mode.SUBTRACT)


solid = part.part
